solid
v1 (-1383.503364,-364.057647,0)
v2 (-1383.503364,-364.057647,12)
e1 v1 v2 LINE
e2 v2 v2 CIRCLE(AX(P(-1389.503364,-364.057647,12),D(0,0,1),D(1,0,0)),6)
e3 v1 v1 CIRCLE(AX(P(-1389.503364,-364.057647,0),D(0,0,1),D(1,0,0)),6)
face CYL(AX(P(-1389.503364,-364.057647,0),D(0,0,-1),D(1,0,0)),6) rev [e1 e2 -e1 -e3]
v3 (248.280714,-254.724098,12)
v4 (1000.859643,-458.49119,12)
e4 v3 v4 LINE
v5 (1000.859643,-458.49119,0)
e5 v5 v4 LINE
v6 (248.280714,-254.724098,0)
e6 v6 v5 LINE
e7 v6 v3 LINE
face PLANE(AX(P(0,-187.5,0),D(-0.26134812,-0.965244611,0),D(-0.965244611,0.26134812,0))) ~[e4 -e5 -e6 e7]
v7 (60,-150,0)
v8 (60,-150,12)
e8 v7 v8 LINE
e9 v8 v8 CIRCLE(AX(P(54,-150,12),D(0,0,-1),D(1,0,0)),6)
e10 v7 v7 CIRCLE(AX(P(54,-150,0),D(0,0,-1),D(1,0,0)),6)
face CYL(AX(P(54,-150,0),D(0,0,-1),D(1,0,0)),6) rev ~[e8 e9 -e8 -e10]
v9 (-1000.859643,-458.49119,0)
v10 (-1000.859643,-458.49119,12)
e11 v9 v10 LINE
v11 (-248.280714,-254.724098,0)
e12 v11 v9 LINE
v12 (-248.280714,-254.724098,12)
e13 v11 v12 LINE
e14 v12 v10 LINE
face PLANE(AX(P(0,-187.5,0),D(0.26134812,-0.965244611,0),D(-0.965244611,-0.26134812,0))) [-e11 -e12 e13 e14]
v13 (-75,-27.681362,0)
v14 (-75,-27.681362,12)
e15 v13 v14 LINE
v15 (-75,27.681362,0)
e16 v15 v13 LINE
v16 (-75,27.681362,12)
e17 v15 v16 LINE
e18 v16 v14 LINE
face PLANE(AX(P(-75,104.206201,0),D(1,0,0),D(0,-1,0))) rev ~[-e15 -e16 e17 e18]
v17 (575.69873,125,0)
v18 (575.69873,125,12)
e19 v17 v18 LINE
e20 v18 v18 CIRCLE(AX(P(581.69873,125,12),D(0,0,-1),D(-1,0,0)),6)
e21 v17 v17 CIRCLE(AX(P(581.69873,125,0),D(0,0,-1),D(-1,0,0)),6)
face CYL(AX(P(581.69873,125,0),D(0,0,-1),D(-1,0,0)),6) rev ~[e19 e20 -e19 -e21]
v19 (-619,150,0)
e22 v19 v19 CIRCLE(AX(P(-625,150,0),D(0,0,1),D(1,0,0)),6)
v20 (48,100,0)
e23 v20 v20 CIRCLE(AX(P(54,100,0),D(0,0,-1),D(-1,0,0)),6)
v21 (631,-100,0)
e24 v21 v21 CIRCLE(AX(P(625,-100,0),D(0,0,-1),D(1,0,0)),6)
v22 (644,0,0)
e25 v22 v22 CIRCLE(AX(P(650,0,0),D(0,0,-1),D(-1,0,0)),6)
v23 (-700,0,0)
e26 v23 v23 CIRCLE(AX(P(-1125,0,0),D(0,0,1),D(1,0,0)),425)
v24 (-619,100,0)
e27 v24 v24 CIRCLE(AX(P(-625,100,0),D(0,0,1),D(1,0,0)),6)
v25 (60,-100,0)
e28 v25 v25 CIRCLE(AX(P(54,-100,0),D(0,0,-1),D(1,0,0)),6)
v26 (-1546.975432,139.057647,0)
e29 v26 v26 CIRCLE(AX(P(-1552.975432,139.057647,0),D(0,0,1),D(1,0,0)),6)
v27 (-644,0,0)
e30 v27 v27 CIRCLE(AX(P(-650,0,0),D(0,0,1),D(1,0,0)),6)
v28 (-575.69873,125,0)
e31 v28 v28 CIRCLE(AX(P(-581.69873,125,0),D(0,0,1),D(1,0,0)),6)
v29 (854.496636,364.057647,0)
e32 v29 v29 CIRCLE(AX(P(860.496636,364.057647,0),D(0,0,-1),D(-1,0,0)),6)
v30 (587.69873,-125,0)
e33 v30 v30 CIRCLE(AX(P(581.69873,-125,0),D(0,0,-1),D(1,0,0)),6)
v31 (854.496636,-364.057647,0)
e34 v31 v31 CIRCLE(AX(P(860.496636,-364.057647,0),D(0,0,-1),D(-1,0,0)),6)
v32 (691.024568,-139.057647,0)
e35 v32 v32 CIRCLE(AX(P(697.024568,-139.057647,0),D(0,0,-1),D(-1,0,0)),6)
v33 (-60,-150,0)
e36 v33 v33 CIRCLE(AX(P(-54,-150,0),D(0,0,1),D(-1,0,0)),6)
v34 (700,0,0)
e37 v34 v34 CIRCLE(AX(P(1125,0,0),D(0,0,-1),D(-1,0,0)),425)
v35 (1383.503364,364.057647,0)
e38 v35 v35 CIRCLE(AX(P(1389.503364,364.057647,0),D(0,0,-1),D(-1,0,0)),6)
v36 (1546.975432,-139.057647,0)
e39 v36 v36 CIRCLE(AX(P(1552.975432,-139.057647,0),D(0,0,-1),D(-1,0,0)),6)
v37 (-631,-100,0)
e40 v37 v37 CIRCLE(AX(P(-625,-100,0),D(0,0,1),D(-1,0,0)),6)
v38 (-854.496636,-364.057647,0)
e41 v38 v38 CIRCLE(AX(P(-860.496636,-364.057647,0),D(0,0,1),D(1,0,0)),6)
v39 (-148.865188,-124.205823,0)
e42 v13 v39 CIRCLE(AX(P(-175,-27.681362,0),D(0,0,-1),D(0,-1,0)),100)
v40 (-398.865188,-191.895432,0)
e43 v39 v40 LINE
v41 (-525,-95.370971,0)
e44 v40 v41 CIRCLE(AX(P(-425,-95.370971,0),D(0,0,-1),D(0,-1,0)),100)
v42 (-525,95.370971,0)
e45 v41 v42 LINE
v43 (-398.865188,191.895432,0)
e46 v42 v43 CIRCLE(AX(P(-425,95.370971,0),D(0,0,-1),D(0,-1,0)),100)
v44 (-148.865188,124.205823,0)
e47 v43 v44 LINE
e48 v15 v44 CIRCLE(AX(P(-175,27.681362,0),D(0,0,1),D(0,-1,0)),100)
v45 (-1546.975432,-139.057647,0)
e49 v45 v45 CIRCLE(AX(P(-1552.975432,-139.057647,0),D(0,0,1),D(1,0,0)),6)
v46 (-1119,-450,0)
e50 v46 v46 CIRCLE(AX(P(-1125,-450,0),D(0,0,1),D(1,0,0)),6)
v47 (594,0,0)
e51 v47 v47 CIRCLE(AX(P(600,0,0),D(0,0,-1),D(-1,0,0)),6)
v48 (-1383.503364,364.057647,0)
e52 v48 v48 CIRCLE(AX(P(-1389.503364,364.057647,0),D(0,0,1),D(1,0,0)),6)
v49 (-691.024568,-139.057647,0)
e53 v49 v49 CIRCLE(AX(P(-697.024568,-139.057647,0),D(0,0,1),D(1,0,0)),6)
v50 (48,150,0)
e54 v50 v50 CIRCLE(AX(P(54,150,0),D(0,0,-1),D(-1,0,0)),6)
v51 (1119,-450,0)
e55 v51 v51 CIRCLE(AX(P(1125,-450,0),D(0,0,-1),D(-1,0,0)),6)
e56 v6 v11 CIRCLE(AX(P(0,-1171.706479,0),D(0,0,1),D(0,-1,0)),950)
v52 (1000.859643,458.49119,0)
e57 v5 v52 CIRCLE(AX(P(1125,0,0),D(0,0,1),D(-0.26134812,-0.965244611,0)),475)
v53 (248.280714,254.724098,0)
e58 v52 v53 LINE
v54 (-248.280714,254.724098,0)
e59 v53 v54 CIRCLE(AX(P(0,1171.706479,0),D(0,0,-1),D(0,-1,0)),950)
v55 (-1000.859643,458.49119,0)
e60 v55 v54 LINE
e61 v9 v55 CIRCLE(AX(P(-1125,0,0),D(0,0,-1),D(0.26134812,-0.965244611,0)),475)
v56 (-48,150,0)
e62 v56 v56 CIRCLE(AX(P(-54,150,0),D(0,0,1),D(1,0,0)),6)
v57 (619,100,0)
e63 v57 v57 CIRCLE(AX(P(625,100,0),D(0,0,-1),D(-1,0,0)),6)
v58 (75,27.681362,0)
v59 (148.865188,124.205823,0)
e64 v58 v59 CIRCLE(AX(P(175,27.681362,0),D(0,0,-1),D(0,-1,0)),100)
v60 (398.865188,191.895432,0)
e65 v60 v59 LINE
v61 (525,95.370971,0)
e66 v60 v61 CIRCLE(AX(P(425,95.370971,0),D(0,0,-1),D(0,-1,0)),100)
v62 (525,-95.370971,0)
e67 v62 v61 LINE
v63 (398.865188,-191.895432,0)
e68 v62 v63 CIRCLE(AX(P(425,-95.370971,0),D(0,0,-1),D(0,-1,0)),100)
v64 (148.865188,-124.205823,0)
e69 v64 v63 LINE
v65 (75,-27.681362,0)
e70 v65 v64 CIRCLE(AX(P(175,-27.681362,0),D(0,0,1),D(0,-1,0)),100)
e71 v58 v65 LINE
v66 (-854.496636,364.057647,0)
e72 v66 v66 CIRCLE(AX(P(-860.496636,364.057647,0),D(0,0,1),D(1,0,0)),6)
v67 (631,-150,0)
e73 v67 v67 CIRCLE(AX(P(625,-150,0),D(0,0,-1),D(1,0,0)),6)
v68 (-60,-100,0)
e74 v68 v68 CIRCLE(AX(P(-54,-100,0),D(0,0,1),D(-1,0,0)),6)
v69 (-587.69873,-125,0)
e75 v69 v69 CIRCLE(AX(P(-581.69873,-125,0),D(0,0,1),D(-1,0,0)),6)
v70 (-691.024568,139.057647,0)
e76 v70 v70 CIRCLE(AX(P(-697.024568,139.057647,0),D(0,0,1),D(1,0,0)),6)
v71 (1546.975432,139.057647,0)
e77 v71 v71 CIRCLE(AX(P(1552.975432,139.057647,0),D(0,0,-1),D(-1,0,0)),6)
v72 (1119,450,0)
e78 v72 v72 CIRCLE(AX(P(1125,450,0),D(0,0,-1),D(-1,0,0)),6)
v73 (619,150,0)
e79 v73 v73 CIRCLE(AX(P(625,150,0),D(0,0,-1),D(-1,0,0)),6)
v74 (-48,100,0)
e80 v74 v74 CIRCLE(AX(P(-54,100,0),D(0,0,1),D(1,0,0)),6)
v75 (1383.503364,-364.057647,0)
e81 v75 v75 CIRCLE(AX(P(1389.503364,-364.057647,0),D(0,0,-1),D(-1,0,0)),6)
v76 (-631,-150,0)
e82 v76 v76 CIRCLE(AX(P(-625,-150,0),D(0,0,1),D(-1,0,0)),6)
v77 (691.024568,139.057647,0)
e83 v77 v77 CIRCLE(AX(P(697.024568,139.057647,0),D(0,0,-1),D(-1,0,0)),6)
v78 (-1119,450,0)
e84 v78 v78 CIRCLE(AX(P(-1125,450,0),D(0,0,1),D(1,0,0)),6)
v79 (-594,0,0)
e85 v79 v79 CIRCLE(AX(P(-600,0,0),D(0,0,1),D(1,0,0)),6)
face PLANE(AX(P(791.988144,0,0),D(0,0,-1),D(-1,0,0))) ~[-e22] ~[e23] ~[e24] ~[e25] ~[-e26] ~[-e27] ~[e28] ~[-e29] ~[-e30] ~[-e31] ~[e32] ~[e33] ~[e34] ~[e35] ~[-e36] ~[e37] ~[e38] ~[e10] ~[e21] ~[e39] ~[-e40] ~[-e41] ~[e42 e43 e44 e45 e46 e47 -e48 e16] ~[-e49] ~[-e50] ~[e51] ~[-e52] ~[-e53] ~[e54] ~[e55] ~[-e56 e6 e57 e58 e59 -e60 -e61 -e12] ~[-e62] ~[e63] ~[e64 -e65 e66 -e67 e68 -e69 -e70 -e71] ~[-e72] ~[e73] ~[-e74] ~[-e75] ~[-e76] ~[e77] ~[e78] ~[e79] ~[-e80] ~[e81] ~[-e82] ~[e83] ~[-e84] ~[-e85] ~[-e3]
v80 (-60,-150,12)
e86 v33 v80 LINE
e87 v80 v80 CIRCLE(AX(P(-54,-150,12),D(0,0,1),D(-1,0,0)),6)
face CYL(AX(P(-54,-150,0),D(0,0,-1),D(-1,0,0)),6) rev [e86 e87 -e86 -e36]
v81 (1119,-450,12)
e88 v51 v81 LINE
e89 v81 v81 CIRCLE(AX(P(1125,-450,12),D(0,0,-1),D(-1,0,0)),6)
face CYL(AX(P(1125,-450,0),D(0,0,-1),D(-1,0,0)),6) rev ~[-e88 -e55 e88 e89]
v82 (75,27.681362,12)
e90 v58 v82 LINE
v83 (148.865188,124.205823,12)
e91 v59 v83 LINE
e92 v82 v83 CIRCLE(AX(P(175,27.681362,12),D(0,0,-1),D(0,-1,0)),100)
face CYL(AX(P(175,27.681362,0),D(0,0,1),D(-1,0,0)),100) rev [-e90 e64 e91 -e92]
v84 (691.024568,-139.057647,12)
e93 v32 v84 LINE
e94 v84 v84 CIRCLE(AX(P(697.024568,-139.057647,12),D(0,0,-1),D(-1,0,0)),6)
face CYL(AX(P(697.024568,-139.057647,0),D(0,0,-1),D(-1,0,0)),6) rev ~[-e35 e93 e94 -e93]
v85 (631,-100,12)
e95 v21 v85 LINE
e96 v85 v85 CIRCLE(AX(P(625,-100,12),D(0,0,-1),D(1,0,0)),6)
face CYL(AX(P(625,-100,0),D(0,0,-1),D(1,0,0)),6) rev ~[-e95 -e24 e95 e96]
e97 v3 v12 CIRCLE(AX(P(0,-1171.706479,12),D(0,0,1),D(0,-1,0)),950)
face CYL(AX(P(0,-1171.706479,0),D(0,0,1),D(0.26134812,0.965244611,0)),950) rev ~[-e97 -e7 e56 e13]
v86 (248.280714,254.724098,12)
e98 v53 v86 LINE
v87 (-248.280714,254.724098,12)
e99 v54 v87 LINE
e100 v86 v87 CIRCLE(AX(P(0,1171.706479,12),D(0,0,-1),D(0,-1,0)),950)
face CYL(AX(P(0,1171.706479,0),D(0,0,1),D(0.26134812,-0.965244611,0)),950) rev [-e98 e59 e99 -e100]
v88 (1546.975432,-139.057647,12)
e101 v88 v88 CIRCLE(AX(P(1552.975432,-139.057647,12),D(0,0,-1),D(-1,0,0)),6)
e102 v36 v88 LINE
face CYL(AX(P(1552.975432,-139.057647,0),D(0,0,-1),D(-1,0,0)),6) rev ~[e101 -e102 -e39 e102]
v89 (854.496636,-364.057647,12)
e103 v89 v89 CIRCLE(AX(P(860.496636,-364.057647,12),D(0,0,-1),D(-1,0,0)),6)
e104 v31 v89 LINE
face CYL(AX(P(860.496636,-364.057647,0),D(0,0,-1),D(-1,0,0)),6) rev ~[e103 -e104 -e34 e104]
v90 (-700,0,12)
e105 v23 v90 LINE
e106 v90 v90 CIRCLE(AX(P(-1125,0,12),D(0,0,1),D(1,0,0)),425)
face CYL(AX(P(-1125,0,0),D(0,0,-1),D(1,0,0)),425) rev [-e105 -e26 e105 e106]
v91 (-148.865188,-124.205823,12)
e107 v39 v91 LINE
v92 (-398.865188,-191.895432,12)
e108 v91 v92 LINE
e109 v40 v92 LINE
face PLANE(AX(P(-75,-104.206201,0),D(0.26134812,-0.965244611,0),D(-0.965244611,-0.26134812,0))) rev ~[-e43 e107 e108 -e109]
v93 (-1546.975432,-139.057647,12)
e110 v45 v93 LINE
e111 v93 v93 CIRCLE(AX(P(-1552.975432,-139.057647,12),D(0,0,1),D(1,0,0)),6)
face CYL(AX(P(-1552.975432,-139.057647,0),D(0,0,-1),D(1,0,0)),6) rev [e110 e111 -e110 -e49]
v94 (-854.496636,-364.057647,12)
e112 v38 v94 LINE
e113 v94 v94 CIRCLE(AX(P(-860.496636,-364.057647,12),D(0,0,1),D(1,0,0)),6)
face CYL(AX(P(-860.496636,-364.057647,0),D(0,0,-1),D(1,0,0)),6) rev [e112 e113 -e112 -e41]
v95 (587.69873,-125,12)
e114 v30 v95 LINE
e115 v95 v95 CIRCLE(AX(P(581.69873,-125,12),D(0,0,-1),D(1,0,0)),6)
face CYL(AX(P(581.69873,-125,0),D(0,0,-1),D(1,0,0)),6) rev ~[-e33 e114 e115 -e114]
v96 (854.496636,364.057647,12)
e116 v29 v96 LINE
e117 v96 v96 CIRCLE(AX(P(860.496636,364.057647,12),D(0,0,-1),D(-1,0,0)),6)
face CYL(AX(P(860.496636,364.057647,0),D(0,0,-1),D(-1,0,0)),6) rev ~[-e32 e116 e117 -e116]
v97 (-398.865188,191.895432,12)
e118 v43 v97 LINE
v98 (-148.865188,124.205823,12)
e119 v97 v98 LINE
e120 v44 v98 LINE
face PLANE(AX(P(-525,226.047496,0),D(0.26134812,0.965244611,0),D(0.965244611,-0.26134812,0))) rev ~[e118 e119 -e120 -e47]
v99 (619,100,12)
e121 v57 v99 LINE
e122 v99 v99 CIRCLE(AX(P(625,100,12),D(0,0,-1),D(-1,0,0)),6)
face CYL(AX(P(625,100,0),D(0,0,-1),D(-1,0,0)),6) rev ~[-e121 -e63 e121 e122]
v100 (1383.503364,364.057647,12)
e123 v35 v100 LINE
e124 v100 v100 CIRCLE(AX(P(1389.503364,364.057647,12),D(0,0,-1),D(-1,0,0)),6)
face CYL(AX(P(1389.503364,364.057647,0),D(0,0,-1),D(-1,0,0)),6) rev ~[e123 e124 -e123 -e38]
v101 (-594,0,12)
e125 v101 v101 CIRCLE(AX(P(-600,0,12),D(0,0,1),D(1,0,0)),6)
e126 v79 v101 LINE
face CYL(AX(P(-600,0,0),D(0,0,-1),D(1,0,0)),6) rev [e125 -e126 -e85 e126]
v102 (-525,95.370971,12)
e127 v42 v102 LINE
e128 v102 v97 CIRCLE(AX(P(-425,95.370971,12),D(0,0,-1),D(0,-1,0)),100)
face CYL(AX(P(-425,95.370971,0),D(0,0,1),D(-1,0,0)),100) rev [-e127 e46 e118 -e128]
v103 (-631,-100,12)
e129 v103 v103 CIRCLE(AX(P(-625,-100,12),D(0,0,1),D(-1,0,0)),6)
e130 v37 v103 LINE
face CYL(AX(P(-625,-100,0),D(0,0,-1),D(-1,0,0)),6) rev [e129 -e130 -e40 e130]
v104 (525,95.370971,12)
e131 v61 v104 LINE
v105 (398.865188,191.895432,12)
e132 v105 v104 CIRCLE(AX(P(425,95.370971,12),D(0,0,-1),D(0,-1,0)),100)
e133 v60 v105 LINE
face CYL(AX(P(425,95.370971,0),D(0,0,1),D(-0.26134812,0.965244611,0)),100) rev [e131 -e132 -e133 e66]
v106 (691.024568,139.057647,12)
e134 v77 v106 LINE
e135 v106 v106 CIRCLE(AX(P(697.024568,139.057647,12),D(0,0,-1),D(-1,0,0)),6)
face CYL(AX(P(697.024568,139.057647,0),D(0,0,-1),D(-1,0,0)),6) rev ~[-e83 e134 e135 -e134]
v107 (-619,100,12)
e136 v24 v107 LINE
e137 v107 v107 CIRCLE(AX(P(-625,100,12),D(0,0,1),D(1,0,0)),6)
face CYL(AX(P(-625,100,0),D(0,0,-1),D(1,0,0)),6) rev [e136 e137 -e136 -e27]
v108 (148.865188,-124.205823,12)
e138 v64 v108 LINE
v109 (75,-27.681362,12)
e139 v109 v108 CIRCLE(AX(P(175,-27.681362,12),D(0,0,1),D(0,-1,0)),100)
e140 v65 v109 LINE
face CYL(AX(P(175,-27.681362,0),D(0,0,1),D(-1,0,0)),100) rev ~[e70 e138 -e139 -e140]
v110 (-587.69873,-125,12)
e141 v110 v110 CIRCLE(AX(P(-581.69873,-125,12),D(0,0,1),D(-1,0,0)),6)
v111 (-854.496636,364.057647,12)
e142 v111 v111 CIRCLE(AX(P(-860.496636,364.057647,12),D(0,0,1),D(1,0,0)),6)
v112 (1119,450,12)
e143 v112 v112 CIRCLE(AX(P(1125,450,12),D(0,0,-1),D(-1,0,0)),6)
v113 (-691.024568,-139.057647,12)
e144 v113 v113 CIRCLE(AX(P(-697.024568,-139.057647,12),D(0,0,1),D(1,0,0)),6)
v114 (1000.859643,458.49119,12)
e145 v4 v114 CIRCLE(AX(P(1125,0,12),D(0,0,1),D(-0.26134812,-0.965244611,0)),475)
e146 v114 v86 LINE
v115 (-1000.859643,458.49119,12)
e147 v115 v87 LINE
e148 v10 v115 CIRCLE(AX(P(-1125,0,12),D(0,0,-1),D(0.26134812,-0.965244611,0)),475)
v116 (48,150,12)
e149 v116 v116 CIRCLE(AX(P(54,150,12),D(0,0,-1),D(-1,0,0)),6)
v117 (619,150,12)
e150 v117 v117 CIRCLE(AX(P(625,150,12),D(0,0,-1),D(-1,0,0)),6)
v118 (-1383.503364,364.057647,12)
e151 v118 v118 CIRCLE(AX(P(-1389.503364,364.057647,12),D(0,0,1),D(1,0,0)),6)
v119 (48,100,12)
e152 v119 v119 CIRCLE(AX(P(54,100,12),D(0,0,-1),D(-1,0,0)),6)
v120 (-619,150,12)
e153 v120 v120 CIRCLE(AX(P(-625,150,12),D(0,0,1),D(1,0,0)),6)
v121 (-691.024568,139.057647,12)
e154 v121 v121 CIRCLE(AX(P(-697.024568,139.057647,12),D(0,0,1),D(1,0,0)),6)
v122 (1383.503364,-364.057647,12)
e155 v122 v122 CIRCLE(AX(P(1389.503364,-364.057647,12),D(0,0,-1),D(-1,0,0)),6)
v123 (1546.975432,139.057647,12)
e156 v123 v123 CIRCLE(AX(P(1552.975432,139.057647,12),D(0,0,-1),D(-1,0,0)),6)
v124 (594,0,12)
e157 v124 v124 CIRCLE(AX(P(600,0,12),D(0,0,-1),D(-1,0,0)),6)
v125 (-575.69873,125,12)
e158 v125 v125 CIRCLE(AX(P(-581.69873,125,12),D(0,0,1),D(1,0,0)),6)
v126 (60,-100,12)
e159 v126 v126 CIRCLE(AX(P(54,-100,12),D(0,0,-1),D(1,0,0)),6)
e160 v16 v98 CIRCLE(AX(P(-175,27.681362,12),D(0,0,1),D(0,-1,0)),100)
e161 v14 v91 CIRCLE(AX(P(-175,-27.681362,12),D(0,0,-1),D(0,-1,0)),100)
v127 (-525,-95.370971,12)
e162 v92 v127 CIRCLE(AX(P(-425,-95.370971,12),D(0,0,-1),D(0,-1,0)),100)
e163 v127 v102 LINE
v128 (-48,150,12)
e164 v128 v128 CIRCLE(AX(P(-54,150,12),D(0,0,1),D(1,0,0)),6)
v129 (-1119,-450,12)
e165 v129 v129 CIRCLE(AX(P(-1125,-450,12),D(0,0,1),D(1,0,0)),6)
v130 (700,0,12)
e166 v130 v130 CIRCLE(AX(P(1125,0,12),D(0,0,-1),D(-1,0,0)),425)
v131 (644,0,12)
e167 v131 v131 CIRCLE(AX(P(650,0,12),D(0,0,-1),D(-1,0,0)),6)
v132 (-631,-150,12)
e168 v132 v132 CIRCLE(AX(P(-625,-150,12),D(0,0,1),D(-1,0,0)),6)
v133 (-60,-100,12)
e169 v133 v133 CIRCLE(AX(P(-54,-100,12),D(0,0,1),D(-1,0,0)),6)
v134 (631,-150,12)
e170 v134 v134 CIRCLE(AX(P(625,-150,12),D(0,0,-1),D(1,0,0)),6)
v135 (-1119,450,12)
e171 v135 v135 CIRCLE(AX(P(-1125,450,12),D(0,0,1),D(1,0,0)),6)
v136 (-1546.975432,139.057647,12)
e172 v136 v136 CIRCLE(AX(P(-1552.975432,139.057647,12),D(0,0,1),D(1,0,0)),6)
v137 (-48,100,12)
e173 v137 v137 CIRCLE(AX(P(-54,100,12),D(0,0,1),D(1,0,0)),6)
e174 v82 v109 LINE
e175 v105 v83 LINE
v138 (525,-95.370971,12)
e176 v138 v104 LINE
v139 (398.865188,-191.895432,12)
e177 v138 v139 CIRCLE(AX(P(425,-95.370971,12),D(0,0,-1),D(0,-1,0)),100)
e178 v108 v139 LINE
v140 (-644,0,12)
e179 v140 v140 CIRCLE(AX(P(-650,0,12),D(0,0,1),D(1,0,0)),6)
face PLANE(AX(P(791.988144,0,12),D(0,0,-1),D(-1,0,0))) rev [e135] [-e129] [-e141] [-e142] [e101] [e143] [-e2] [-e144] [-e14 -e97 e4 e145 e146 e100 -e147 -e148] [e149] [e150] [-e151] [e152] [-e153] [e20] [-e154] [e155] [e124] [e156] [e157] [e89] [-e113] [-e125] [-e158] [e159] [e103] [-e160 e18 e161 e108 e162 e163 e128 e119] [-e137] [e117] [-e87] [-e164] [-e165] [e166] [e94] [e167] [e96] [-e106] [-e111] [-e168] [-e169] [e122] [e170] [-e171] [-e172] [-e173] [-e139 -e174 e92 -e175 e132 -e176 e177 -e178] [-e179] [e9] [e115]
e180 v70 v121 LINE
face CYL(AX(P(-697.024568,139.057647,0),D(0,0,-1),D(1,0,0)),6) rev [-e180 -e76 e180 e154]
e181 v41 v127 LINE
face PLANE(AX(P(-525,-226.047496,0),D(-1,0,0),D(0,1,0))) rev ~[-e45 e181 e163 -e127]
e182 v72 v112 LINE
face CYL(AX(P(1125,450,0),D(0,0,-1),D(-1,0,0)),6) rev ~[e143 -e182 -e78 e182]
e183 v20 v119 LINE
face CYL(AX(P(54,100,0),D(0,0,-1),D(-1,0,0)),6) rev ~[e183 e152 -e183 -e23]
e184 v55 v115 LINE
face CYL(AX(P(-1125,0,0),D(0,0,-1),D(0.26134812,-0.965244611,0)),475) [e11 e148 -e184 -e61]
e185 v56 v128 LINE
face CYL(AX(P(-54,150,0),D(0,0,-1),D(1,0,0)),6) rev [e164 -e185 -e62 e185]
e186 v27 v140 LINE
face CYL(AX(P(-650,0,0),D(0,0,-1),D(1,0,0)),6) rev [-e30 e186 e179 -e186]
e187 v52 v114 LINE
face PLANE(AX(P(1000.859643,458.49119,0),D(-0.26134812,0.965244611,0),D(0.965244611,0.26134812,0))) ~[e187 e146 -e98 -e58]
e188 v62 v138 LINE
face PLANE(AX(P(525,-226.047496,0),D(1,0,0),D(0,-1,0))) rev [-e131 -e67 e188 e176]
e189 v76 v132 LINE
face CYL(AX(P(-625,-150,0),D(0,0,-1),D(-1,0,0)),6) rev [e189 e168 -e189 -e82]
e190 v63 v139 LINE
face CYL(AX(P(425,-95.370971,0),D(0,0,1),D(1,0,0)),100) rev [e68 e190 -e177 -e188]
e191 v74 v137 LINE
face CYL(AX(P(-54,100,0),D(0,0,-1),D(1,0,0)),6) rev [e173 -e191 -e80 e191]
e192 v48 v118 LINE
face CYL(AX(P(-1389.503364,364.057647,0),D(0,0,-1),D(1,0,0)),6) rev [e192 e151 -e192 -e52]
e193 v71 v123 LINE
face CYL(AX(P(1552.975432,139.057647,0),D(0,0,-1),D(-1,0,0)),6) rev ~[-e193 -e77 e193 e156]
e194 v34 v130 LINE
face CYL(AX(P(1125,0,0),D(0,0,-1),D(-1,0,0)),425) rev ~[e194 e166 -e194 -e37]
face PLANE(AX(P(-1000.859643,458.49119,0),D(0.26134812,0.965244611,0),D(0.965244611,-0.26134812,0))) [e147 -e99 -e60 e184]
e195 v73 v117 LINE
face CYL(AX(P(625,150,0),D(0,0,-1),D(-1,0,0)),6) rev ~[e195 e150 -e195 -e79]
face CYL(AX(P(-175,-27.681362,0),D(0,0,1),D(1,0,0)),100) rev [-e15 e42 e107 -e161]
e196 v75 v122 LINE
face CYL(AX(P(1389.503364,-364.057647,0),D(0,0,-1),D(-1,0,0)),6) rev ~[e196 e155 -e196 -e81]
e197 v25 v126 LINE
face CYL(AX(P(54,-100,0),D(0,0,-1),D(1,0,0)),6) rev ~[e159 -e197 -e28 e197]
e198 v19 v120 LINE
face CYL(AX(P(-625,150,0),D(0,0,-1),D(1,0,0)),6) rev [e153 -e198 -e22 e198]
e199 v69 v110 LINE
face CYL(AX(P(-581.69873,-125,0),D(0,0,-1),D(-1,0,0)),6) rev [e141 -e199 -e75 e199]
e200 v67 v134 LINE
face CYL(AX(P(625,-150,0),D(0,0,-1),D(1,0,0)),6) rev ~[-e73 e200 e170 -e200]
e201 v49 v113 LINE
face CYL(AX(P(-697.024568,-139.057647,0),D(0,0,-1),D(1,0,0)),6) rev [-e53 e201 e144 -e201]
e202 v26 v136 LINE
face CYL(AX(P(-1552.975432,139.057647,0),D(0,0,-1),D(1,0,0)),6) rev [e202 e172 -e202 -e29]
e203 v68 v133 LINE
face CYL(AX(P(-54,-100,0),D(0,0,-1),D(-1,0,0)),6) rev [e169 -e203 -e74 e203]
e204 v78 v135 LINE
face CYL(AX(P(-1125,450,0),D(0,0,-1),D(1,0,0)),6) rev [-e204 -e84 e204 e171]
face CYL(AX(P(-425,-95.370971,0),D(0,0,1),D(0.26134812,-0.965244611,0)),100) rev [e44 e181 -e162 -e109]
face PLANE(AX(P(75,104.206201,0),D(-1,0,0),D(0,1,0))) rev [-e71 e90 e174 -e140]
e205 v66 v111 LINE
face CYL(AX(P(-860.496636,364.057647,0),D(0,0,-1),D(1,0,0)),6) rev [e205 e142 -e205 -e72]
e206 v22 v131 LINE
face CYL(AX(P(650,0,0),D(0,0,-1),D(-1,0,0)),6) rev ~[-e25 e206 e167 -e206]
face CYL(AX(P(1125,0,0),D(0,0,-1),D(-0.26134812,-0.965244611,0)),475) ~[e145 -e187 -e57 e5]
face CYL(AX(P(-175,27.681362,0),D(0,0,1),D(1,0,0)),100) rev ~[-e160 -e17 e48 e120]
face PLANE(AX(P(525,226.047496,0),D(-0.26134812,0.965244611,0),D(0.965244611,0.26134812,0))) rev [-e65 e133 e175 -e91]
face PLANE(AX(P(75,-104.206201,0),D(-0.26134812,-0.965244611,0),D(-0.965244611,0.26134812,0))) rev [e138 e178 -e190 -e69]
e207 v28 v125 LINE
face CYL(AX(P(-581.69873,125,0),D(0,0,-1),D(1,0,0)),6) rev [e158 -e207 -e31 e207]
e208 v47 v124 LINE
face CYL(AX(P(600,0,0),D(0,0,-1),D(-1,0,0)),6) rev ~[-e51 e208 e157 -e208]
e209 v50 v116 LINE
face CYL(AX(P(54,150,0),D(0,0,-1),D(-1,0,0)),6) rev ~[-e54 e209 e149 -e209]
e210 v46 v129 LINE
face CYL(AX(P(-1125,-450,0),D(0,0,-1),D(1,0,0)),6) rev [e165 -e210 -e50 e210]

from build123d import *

# Parameters (mm, degrees)
SKETCH1_R           = 425
SKETCH1_R_2         = 6
BOSS_EXTRUDE1_DEPTH = 12
FILLET1_R           = 950
FILLET2_R           = 100


with BuildPart() as part:
    # Sketch1 → Boss-Extrude1 (new body)
    with BuildSketch(Plane.XY):
        with BuildLine():
            Line((-1000.859642854, 458.491190458), (0, 187.5))
            Line((0, 187.5), (0, -187.5))
            Line((0, -187.5), (-1000.859642854, -458.491190458))
            ThreePointArc((-1000.859642854, -458.491190458), (-1600, 0), (-1000.859642854, 458.491190458))
        make_face()
        with Locations((-1125, 0)):
            Circle(SKETCH1_R, mode=Mode.SUBTRACT)
        with Locations((-1125, 450)):
            Circle(SKETCH1_R_2, mode=Mode.SUBTRACT)
        with Locations((-860.496636468, 364.057647469)):
            Circle(SKETCH1_R_2, mode=Mode.SUBTRACT)
        with Locations((-697.024567667, 139.057647469)):
            Circle(SKETCH1_R_2, mode=Mode.SUBTRACT)
        with Locations((-697.024567667, -139.057647469)):
            Circle(SKETCH1_R_2, mode=Mode.SUBTRACT)
        with Locations((-860.496636468, -364.057647469)):
            Circle(SKETCH1_R_2, mode=Mode.SUBTRACT)
        with Locations((-1125, -450)):
            Circle(SKETCH1_R_2, mode=Mode.SUBTRACT)
        with Locations((-1389.503363532, -364.057647469)):
            Circle(SKETCH1_R_2, mode=Mode.SUBTRACT)
        with Locations((-1552.975432333, -139.057647469)):
            Circle(SKETCH1_R_2, mode=Mode.SUBTRACT)
        with Locations((-1552.975432333, 139.057647469)):
            Circle(SKETCH1_R_2, mode=Mode.SUBTRACT)
        with Locations((-1389.503363532, 364.057647469)):
            Circle(SKETCH1_R_2, mode=Mode.SUBTRACT)
        with Locations((-625, 150)):
            Circle(SKETCH1_R_2, mode=Mode.SUBTRACT)
        with Locations((-625, 100)):
            Circle(SKETCH1_R_2, mode=Mode.SUBTRACT)
        with Locations((-581.698729811, 125)):
            Circle(SKETCH1_R_2, mode=Mode.SUBTRACT)
        with Locations(Location((-625, -150, 0), (0, 0, 180))):
            Circle(SKETCH1_R_2, mode=Mode.SUBTRACT)
        with Locations(Location((-581.698729811, -125, 0), (0, 0, 180))):
            Circle(SKETCH1_R_2, mode=Mode.SUBTRACT)
        with Locations(Location((-625, -100, 0), (0, 0, 180))):
            Circle(SKETCH1_R_2, mode=Mode.SUBTRACT)
        with Locations((-600, 0)):
            Circle(SKETCH1_R_2, mode=Mode.SUBTRACT)
        with Locations((-650, 0)):
            Circle(SKETCH1_R_2, mode=Mode.SUBTRACT)
        with Locations((-54, 150)):
            Circle(SKETCH1_R_2, mode=Mode.SUBTRACT)
        with Locations((-54, 100)):
            Circle(SKETCH1_R_2, mode=Mode.SUBTRACT)
        with Locations(Location((-54, -150, 0), (0, 0, 180))):
            Circle(SKETCH1_R_2, mode=Mode.SUBTRACT)
        with Locations(Location((-54, -100, 0), (0, 0, 180))):
            Circle(SKETCH1_R_2, mode=Mode.SUBTRACT)
        Polygon((-75, 104.206200667), (-75, -104.206200667), (-525, -226.047496374), (-525, 226.047496374), align=None, mode=Mode.SUBTRACT)
    boss_extrude1 = extrude(amount=BOSS_EXTRUDE1_DEPTH)

    # Mirror1: Boss-Extrude1 across plane
    add(boss_extrude1.mirror(Plane(origin=(0, -187.5, 12), x_dir=(0, 0, 1), z_dir=(-1, 0, 0))))

    # Fillet1
    fillet1_edges = [part.edges().sort_by_distance(p)[0] for p in [
        (0, 187.5, 6),
        (0, -187.5, 6),
    ]]
    fillet(fillet1_edges, radius=FILLET1_R)

    # Fillet2
    fillet2_edges = [part.edges().sort_by_distance(p)[0] for p in [
        (75, 104.206200667, 6),
        (75, -104.206200667, 6),
        (525, -226.047496374, 6),
        (525, 226.047496374, 6),
        (-75, 104.206200667, 6),
        (-525, 226.047496374, 6),
        (-525, -226.047496374, 6),
        (-75, -104.206200667, 6),
    ]]
    fillet(fillet2_edges, radius=FILLET2_R)


solid = part.part
